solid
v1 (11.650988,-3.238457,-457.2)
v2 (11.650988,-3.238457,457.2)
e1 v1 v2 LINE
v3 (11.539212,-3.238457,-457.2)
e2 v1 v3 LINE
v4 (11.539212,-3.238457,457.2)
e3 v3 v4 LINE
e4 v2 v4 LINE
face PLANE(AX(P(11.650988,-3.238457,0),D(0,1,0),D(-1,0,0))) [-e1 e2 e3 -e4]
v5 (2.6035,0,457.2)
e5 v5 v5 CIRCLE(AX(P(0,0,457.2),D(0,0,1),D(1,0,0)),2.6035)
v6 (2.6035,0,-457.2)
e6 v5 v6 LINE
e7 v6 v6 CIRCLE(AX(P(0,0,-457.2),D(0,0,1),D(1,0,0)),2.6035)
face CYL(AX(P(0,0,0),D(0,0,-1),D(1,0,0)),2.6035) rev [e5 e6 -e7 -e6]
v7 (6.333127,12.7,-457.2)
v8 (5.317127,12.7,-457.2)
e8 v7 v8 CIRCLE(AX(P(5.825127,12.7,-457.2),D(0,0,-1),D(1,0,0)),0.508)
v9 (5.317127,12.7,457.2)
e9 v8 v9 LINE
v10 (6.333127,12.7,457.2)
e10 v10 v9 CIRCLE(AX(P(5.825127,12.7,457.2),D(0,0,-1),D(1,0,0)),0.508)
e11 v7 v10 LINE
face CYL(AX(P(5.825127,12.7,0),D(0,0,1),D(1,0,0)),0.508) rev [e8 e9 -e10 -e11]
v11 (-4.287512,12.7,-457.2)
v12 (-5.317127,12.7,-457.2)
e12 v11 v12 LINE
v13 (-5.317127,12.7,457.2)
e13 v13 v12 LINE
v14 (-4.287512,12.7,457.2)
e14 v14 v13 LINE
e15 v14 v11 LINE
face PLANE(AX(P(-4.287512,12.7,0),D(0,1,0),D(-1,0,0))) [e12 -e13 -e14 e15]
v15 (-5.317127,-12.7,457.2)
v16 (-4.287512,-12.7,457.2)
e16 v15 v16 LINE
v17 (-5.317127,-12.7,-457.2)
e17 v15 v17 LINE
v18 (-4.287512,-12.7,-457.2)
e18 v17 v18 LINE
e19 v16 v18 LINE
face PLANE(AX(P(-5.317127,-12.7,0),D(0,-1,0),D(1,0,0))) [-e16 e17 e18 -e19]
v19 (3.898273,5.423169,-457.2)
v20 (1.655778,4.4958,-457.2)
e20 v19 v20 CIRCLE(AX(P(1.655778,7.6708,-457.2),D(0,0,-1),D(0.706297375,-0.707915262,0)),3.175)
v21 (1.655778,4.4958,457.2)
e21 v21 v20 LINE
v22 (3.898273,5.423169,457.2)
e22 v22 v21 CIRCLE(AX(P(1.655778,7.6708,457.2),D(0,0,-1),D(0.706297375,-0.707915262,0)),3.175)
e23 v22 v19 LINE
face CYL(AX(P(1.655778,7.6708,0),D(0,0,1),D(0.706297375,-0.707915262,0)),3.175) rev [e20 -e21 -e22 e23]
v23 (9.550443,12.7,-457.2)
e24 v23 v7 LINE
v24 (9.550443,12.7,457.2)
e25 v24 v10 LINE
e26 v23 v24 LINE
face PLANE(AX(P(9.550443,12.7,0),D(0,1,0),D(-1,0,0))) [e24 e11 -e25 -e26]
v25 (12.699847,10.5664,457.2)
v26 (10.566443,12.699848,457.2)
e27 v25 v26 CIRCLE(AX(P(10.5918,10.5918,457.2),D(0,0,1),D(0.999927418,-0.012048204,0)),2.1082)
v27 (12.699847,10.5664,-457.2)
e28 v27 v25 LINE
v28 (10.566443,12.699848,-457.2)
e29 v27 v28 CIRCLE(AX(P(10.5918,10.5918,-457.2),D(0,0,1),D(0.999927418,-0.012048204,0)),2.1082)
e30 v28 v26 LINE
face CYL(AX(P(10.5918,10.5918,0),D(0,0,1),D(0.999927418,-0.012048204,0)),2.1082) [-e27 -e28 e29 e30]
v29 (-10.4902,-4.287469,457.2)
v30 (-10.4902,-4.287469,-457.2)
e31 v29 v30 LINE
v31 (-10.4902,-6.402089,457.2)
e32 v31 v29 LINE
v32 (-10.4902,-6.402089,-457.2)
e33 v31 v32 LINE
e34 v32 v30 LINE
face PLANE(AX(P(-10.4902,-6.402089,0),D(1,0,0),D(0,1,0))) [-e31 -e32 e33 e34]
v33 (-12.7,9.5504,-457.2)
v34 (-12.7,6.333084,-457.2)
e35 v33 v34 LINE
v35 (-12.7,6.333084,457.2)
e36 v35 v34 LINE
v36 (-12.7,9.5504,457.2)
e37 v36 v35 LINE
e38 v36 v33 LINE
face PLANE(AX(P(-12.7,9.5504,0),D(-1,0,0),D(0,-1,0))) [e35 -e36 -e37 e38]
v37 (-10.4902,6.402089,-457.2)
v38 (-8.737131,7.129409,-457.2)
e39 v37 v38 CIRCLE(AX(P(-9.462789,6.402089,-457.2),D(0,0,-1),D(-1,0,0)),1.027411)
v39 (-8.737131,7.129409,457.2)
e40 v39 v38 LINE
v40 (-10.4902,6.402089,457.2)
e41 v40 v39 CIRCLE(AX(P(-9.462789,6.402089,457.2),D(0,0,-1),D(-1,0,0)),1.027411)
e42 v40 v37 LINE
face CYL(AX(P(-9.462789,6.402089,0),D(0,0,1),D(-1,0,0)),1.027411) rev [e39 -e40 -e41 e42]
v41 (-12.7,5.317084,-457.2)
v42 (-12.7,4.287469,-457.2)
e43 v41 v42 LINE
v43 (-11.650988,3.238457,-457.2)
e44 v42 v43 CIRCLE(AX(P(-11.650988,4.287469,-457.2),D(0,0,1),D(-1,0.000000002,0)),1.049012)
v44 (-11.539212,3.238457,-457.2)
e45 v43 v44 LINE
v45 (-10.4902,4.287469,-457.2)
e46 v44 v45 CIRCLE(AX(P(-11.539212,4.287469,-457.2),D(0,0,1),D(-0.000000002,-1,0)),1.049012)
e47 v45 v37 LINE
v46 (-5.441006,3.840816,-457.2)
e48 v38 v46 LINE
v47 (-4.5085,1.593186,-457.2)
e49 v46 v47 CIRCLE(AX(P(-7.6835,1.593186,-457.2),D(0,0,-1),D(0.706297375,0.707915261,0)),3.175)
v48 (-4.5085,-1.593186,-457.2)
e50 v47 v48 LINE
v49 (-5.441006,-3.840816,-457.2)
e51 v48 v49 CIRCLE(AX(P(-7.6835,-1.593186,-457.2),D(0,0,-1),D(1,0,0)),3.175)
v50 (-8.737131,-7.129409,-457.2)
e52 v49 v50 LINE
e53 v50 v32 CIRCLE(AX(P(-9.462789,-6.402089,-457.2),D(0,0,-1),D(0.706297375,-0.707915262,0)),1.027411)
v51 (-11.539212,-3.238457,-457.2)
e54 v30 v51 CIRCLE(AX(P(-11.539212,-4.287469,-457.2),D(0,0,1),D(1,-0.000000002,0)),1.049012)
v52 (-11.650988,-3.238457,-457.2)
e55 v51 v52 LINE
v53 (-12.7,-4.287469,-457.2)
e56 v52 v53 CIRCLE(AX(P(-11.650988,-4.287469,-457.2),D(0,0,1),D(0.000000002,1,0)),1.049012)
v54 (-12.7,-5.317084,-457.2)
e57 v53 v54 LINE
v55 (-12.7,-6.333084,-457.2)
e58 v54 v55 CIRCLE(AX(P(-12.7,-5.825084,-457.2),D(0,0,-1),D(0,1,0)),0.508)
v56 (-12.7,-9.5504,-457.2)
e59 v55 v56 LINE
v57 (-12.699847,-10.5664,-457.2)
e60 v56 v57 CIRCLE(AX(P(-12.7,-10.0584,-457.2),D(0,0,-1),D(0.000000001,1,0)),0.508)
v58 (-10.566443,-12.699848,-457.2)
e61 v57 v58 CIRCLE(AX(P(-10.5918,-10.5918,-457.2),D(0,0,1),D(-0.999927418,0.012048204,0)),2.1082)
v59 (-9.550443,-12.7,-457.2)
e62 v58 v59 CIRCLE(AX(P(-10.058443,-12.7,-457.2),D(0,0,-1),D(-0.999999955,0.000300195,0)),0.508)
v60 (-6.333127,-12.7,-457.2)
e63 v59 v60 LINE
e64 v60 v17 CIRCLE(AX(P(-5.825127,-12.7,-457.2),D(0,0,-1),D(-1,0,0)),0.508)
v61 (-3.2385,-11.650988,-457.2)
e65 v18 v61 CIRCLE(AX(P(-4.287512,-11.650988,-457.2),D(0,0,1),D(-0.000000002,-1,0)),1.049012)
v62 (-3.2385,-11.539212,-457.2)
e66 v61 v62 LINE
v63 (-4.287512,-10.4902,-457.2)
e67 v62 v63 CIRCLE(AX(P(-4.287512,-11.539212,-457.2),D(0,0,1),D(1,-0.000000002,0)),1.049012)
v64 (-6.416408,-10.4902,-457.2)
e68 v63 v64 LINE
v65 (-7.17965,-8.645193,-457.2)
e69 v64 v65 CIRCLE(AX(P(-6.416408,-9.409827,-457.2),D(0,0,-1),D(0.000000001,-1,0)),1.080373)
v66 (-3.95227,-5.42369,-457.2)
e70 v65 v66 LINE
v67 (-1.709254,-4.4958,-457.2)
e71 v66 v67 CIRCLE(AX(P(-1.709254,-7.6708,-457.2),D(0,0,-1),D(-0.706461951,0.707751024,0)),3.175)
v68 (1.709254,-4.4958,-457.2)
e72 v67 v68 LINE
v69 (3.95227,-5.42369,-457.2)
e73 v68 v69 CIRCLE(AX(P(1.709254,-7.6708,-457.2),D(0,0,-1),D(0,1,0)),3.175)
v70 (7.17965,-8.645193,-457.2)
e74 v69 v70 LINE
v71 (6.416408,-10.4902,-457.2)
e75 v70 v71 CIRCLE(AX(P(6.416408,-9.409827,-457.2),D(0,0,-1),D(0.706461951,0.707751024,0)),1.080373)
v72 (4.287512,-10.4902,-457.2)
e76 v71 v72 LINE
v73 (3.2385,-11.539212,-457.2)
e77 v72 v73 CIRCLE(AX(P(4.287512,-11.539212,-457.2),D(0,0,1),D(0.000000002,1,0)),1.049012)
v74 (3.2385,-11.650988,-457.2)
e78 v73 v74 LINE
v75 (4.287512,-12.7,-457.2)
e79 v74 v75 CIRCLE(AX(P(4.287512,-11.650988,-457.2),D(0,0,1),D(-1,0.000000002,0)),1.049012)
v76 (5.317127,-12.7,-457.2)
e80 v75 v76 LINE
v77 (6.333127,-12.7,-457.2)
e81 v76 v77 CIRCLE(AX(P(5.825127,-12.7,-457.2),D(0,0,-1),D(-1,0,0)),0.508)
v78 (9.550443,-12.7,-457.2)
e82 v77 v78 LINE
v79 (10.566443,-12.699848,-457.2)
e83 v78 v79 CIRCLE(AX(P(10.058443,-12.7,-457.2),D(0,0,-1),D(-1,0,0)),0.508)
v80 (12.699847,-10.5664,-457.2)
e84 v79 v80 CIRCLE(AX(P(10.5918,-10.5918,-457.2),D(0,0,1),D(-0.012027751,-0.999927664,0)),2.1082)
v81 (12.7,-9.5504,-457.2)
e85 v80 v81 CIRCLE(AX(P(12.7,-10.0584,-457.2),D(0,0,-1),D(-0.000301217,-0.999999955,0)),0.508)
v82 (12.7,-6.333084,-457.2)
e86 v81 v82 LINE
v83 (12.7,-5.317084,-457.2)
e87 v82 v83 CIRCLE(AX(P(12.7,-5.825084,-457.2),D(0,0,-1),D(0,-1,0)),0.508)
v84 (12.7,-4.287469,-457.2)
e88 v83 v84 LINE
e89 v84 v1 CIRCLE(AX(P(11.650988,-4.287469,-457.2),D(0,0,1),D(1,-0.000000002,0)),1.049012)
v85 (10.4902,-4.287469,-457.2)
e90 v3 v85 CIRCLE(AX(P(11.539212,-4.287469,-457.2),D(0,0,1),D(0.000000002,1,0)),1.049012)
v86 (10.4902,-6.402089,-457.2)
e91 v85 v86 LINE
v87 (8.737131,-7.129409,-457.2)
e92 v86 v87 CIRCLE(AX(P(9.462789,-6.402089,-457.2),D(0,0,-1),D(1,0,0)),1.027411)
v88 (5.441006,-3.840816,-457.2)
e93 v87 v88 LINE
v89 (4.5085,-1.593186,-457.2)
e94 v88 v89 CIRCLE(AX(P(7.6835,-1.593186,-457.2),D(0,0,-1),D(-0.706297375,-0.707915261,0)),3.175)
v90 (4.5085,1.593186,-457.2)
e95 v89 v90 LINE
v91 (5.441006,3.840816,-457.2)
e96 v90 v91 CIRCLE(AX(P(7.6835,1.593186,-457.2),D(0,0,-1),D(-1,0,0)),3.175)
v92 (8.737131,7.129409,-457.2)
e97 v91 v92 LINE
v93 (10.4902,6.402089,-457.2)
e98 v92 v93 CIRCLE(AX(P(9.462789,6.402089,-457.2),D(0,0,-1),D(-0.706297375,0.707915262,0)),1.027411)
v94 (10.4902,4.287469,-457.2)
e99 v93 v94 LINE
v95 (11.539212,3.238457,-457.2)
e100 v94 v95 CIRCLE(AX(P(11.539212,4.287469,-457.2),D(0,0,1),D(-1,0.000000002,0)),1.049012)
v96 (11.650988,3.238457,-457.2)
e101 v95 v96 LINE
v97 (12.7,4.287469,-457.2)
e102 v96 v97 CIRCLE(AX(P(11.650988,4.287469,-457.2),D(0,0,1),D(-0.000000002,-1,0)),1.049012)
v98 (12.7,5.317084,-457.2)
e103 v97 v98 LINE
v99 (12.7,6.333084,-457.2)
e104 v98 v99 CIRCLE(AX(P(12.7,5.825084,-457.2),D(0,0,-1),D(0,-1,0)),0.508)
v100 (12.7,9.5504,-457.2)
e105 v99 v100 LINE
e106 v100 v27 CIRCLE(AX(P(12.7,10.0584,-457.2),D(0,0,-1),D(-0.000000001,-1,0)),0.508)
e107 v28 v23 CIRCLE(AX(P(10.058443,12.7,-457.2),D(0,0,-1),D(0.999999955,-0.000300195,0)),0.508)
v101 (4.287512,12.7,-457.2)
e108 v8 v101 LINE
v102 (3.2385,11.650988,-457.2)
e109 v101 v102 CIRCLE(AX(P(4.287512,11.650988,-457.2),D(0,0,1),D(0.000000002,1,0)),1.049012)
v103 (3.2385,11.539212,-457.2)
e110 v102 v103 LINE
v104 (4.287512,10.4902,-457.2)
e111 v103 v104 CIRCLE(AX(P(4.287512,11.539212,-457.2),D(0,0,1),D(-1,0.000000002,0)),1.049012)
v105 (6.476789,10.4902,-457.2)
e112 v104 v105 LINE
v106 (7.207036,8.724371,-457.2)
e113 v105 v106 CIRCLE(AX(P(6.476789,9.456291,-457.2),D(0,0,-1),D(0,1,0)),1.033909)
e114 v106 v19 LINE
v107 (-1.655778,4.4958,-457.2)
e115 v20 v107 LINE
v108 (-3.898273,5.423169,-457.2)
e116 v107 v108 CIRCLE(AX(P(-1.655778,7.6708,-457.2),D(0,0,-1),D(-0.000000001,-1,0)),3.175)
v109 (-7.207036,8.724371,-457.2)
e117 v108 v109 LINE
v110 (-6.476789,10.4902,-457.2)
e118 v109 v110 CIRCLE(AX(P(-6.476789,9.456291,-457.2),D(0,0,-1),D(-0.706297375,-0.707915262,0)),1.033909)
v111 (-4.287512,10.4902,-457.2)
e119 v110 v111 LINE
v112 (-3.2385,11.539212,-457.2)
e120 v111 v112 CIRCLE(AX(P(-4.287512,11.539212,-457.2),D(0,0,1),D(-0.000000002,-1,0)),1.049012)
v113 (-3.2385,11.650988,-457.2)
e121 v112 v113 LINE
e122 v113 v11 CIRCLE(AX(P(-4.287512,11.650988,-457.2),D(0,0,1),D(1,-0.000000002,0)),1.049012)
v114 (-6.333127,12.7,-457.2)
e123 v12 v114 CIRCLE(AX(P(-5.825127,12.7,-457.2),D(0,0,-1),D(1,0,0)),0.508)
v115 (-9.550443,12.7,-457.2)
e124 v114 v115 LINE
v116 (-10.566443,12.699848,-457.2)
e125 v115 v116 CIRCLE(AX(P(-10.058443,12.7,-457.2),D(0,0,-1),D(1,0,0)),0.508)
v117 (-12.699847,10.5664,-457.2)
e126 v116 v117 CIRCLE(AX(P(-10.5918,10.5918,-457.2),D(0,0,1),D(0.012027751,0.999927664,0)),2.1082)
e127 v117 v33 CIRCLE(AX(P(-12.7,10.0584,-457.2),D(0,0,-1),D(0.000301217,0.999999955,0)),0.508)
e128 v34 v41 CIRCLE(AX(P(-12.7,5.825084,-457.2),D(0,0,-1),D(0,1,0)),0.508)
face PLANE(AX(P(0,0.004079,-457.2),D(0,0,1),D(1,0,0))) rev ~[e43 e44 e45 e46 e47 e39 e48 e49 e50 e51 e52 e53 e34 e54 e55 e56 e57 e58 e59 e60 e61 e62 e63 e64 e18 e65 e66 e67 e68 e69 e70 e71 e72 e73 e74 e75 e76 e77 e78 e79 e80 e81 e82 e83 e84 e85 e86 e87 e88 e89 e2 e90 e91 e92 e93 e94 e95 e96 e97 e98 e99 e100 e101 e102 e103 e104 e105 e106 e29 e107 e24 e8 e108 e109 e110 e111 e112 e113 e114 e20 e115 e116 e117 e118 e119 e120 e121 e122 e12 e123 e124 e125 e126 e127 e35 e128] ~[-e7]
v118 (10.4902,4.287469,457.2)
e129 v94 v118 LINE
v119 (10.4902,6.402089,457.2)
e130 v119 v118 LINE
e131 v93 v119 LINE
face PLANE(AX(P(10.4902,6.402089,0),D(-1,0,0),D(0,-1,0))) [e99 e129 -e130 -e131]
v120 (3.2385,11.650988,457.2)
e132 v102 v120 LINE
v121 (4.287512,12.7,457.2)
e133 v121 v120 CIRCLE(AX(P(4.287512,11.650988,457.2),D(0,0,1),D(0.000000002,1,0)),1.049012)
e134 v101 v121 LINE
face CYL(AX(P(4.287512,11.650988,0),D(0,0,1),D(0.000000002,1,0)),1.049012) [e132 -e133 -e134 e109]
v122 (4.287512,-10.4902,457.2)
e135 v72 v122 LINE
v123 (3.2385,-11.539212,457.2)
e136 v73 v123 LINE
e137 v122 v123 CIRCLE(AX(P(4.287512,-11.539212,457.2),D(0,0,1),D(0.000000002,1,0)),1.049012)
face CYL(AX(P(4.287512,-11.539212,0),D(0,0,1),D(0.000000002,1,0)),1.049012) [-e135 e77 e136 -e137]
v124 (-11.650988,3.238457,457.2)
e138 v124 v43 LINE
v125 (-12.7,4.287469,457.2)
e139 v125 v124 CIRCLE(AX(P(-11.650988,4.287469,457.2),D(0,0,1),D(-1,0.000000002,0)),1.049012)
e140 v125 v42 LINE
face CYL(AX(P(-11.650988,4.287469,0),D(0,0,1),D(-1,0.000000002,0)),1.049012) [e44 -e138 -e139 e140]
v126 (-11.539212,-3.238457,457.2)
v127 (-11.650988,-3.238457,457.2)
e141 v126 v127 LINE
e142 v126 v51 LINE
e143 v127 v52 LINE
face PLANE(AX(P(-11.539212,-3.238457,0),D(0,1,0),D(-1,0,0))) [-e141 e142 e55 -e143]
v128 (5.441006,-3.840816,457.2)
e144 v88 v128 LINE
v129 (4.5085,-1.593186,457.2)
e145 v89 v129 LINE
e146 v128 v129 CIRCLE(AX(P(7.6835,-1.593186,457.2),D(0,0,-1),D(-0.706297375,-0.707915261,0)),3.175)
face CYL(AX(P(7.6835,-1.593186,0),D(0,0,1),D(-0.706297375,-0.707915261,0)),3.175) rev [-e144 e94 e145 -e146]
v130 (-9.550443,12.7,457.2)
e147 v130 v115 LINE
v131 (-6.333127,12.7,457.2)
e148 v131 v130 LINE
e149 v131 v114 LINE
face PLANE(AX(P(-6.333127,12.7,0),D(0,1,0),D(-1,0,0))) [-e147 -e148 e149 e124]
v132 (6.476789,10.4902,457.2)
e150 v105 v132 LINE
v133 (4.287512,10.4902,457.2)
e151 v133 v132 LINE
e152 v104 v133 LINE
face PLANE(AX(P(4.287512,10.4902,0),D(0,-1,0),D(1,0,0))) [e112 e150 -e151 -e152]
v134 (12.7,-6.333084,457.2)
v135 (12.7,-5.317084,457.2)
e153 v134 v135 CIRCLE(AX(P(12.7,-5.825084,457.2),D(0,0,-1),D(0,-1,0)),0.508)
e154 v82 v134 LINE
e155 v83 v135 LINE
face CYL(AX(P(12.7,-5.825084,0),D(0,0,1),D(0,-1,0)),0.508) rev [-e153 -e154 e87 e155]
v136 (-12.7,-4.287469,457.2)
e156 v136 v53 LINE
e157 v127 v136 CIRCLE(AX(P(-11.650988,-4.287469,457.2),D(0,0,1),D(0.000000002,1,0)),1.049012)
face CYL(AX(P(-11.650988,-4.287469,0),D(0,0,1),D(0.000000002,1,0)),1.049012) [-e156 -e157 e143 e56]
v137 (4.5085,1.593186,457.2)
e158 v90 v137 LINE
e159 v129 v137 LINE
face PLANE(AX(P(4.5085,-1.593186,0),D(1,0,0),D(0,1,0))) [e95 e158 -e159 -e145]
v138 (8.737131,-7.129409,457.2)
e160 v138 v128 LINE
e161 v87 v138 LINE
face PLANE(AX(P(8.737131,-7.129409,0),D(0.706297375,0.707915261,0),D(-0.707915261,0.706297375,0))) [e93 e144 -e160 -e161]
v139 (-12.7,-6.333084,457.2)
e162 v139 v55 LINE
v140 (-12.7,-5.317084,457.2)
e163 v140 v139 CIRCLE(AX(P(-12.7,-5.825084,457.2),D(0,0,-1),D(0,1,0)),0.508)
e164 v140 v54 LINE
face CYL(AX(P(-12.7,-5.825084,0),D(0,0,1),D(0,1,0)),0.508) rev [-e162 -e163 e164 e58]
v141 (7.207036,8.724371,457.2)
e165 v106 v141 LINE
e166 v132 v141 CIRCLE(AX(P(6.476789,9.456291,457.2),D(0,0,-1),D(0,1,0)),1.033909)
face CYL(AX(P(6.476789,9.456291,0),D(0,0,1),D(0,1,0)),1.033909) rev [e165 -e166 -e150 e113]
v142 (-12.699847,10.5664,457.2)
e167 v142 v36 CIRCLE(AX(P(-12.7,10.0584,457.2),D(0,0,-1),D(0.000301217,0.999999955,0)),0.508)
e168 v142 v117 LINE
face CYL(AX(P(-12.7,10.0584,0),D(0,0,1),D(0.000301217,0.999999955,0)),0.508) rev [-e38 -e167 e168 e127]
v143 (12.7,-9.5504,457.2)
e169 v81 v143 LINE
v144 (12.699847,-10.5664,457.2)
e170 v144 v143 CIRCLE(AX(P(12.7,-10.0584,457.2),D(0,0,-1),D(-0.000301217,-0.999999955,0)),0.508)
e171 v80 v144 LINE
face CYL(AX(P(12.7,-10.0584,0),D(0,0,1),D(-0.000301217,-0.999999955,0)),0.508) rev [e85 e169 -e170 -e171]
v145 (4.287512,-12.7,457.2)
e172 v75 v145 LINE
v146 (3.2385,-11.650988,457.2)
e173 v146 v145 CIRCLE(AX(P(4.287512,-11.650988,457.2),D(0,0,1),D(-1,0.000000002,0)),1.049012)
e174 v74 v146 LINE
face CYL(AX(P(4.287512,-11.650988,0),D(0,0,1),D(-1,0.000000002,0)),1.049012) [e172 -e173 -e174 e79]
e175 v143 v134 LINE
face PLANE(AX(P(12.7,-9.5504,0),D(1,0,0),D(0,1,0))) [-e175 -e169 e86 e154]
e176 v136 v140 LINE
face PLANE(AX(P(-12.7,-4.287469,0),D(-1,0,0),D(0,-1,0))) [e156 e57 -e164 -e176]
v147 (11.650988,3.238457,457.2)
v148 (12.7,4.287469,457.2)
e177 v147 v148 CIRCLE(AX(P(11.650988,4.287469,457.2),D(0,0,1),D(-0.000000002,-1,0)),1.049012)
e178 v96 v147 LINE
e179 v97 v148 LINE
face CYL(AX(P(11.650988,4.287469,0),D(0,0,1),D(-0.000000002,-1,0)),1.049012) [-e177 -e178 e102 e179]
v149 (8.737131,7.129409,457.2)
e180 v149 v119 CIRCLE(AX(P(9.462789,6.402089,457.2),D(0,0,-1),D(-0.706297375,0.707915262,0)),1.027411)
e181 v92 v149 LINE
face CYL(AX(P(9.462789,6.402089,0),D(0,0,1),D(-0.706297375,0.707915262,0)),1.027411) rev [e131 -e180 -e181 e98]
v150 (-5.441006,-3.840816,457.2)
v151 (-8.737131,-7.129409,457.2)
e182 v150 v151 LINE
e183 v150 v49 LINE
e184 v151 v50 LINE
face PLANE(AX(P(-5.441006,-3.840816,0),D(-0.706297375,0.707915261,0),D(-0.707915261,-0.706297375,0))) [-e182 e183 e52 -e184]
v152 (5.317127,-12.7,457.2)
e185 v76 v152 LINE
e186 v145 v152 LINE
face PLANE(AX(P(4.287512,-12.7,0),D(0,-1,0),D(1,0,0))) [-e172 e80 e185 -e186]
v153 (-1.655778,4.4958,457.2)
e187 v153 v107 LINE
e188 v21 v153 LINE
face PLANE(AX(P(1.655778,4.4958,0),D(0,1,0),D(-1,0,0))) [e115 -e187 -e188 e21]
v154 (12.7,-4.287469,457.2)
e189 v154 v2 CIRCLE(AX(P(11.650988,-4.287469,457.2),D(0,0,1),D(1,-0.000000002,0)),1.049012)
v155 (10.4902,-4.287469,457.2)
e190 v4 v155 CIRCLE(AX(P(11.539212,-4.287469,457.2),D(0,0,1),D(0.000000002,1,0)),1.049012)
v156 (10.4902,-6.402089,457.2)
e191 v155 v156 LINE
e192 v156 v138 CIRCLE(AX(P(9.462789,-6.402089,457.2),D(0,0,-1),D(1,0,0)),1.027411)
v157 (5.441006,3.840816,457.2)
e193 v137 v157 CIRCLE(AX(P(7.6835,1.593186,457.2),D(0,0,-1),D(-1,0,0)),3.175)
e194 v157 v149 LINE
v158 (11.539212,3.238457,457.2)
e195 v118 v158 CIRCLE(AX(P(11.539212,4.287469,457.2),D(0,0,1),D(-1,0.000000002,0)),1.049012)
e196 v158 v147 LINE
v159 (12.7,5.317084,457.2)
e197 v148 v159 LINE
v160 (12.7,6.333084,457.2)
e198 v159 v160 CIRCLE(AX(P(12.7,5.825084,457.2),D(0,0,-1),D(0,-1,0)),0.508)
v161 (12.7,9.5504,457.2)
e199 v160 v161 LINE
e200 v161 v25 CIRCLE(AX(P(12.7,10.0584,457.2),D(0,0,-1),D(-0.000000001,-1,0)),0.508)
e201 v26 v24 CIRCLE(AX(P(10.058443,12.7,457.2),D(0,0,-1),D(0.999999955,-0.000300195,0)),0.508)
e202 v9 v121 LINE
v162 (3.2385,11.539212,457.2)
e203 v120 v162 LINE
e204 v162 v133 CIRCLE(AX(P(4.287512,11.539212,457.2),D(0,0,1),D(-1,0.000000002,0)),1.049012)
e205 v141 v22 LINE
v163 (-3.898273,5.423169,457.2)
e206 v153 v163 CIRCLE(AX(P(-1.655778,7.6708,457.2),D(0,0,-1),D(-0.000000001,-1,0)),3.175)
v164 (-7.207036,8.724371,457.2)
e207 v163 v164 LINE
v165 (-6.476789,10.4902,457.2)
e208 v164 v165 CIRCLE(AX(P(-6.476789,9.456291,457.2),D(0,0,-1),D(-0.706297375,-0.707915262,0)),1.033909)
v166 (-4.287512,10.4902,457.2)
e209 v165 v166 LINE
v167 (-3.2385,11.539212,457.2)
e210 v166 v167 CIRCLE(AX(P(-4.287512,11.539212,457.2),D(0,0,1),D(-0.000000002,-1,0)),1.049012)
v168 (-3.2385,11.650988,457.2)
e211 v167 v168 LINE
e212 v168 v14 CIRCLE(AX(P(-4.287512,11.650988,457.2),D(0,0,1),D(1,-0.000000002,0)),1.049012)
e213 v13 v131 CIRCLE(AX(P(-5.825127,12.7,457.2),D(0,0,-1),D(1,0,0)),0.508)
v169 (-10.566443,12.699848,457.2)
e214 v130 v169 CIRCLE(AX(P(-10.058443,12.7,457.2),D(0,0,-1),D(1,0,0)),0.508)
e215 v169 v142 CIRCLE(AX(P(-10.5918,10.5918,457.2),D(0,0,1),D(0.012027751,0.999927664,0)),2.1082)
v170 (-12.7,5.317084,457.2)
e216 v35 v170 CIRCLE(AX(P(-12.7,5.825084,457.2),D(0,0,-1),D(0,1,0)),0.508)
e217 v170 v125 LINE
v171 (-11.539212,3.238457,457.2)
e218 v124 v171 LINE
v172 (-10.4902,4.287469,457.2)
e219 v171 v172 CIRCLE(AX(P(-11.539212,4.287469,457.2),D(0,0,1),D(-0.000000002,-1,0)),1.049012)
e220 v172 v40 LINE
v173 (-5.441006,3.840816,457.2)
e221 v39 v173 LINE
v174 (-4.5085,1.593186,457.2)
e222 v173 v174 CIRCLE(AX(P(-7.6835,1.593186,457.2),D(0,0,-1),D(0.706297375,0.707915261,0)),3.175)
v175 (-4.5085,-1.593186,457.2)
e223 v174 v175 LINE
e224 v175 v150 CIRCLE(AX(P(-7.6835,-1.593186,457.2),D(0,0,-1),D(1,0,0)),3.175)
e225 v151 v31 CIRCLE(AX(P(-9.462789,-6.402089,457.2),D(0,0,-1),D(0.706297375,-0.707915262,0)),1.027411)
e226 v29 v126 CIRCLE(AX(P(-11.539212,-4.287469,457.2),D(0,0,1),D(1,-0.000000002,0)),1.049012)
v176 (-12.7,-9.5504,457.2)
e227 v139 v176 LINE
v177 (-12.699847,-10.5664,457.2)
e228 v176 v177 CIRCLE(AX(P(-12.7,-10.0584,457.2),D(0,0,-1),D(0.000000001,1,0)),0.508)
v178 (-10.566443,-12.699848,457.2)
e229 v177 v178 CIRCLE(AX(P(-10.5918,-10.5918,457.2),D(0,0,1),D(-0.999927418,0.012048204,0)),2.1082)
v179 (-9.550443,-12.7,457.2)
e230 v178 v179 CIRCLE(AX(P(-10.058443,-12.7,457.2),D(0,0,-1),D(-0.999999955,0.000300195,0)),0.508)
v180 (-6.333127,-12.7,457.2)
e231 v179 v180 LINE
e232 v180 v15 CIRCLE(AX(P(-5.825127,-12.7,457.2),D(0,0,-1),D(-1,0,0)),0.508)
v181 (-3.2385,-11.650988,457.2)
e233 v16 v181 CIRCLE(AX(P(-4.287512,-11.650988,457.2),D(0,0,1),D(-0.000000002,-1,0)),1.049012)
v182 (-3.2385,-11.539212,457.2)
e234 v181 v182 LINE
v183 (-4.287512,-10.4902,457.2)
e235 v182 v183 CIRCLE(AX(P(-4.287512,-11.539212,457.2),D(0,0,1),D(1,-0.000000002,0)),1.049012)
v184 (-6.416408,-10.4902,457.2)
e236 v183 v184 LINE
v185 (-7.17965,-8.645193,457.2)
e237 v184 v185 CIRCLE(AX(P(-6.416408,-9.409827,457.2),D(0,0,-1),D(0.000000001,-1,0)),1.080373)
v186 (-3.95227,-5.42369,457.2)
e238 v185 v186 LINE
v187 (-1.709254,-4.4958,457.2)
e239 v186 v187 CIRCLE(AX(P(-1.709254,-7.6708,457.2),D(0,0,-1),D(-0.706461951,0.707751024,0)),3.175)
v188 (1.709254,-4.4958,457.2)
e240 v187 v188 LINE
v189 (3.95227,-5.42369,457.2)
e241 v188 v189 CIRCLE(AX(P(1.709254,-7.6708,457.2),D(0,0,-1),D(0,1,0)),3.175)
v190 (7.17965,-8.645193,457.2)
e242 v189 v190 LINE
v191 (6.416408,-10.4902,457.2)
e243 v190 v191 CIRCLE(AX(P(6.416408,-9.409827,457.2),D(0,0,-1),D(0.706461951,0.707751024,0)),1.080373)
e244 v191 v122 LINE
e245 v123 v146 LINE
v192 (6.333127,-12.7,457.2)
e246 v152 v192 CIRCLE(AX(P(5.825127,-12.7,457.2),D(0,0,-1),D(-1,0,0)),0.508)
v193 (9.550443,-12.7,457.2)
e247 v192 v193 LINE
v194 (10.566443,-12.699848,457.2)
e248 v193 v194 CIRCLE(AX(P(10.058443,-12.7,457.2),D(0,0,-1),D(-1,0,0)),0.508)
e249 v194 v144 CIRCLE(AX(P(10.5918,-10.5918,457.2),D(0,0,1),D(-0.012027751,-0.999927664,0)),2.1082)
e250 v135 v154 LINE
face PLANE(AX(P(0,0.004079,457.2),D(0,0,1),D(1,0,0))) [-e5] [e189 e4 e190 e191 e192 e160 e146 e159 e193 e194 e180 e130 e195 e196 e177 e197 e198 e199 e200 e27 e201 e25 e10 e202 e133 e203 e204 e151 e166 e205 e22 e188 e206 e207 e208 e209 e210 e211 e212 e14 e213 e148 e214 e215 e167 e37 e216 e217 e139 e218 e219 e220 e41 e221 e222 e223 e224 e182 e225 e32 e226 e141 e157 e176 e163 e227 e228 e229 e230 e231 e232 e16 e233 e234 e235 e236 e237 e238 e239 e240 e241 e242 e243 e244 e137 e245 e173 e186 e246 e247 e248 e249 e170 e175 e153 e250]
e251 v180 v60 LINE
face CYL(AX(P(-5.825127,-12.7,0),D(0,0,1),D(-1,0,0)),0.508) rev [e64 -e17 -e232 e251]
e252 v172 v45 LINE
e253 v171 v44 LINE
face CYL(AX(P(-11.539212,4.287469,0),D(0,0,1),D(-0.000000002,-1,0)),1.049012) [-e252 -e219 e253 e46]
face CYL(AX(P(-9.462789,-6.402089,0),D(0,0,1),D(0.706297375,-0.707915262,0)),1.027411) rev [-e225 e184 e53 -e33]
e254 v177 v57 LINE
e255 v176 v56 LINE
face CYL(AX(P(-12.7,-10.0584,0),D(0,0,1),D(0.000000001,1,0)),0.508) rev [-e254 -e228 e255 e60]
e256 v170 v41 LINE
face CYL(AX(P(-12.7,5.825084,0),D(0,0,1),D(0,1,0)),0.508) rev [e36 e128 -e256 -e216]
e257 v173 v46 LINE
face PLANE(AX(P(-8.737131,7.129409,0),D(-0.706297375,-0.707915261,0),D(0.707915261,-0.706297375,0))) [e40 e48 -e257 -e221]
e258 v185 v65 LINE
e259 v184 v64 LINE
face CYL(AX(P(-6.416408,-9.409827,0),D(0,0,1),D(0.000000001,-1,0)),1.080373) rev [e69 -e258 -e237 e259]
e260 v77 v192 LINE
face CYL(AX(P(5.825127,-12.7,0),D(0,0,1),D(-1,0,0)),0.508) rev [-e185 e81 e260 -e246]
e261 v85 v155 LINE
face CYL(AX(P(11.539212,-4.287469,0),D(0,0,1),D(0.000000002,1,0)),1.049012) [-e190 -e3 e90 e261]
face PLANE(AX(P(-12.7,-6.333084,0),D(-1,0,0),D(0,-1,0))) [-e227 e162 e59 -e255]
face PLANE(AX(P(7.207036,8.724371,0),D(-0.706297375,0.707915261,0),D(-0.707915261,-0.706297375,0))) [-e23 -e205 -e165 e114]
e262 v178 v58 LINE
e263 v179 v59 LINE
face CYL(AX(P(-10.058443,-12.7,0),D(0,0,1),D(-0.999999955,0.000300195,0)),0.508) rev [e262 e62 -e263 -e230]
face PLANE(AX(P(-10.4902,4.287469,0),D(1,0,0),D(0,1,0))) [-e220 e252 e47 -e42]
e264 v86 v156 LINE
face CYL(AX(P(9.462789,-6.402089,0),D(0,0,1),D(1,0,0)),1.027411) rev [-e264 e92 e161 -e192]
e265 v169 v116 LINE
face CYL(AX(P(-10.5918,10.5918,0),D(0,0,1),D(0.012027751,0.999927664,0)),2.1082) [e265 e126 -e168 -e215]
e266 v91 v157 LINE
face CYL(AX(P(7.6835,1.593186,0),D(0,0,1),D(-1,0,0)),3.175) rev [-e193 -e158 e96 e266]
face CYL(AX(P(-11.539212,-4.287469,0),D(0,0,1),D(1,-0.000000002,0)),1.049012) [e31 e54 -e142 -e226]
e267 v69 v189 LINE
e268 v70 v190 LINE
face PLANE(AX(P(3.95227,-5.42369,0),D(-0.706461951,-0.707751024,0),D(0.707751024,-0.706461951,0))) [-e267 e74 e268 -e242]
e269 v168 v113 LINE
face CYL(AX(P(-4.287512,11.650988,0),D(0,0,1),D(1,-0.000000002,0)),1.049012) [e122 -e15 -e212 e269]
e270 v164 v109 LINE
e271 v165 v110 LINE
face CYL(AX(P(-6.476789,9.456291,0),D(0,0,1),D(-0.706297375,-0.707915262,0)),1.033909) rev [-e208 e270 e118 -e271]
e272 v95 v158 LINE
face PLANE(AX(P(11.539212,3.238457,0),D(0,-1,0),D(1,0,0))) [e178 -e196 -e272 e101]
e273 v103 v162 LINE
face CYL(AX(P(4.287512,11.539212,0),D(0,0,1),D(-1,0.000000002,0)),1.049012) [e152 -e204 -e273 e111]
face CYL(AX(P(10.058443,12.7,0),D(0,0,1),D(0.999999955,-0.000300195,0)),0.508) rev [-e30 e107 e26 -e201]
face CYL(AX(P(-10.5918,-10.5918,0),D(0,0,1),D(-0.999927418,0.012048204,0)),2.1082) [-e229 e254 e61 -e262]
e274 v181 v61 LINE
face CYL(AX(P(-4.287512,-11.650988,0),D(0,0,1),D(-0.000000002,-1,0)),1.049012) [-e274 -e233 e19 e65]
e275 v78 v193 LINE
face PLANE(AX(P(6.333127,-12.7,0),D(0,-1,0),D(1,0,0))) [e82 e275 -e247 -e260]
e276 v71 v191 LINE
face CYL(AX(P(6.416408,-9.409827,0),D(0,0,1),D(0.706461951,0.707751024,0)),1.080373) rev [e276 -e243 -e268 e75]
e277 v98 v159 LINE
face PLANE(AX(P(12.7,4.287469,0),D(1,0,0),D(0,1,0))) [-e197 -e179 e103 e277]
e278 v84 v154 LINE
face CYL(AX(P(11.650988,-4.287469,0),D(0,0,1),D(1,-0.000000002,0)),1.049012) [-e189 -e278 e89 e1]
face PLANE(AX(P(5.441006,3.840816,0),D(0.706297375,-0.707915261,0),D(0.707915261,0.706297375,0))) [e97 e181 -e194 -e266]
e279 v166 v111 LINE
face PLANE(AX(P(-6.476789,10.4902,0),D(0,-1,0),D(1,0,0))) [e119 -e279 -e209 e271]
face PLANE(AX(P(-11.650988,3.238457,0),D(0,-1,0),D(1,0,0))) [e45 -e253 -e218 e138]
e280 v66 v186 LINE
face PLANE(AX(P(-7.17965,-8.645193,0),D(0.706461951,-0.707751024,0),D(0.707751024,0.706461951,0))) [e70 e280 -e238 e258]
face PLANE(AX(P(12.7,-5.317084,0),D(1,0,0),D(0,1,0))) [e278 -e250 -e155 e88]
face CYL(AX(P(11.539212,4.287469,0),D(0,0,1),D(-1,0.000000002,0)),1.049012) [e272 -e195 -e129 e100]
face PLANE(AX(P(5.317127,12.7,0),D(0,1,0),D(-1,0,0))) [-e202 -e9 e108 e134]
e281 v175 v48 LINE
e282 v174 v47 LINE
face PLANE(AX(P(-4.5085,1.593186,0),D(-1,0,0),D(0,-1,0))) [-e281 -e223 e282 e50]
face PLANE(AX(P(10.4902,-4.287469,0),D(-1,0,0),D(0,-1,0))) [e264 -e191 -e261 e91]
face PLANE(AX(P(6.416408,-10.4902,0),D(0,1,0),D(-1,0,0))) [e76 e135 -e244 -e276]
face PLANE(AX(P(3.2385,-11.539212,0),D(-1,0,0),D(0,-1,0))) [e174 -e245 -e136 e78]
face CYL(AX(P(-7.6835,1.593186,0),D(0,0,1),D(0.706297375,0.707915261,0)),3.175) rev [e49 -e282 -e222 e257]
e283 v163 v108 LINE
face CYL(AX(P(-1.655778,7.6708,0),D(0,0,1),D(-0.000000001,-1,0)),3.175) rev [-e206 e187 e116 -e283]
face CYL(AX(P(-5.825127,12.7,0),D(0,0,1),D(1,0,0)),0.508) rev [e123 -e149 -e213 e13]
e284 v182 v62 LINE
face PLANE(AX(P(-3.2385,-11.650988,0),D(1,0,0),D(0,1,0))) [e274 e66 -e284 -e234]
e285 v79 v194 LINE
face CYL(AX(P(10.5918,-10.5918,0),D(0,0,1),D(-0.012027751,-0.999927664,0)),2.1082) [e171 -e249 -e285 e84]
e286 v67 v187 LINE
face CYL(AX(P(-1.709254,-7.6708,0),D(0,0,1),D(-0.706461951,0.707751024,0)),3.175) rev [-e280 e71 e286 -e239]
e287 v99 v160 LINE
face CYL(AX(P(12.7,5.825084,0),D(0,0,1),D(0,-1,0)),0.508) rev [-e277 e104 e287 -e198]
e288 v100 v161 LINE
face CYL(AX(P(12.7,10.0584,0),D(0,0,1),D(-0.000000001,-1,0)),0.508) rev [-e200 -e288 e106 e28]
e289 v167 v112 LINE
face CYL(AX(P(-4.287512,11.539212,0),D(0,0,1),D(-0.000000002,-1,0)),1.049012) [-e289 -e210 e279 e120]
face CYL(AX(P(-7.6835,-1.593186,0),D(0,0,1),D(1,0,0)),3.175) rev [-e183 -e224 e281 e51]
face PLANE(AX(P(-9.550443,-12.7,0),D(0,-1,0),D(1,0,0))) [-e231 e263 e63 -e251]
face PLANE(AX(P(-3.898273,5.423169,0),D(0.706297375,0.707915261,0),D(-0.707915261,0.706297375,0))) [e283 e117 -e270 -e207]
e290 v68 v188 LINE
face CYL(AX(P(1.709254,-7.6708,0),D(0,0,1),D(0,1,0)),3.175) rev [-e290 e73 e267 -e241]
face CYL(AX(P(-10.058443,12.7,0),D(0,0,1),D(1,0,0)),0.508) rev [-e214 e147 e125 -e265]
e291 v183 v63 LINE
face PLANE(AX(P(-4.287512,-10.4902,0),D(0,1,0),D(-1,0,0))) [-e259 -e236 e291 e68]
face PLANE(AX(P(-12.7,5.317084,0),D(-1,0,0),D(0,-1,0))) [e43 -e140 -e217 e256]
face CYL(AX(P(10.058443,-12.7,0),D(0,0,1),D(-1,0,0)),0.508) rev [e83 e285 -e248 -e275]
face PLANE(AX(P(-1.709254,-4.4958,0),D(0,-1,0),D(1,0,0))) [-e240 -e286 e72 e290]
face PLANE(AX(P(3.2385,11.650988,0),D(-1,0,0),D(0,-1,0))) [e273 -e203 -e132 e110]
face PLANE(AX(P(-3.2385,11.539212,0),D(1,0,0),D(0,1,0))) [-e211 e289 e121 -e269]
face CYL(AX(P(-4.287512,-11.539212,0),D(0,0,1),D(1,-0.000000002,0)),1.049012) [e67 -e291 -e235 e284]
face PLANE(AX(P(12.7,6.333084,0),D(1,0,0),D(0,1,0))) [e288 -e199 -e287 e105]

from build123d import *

# Parameters (mm, degrees)
SKETCH1_R           = 2.6035
BOSS_EXTRUDE1_DEPTH = 457.2


with BuildPart() as part:
    # Sketch1 → Boss-Extrude1 (new body, symmetric)
    with BuildSketch(Plane.XY):
        with BuildLine():
            Line((-7.179650497, -8.645192506), (-3.952270251, -5.423690499))
            ThreePointArc((-3.952270251, -5.423690499), (-2.922936451, -4.736929036), (-1.709253557, -4.4958))
            Line((-1.709253557, -4.4958), (1.709253557, -4.4958))
            ThreePointArc((1.709253557, -4.4958), (2.922936451, -4.736929036), (3.952270251, -5.423690499))
            Line((3.952270251, -5.423690499), (7.179650497, -8.645192506))
            ThreePointArc((7.179650497, -8.645192506), (7.41473083, -9.822813117), (6.416408329, -10.4902))
            Line((6.416408329, -10.4902), (4.287512407, -10.4902))
            ThreePointArc((4.287512407, -10.4902), (3.54574862, -10.79744862), (3.2385, -11.539212407))
            Line((3.2385, -11.539212407), (3.2385, -11.650987593))
            ThreePointArc((3.2385, -11.650987593), (3.54574862, -12.39275138), (4.287512407, -12.7))
            Line((4.287512407, -12.7), (5.317126718, -12.7))
            ThreePointArc((5.317126718, -12.7), (5.825126718, -12.192), (6.333126718, -12.7))
            Line((6.333126718, -12.7), (9.550443118, -12.7))
            ThreePointArc((9.550443118, -12.7), (10.058366869, -12.192000006), (10.566443095, -12.699847501))
            ThreePointArc((10.566443095, -12.699847501), (12.082537762, -12.08250727), (12.699846982, -10.566399977))
            ThreePointArc((12.699846982, -10.566399977), (12.192000006, -10.058323491), (12.7, -9.5504))
            Line((12.7, -9.5504), (12.7, -6.3330836))
            ThreePointArc((12.7, -6.3330836), (12.192, -5.8250836), (12.7, -5.3170836))
            Line((12.7, -5.3170836), (12.7, -4.287469289))
            ThreePointArc((12.7, -4.287469289), (12.39275138, -3.545705502), (11.650987593, -3.238456882))
            Line((11.650987593, -3.238456882), (11.539212407, -3.238456882))
            ThreePointArc((11.539212407, -3.238456882), (10.79744862, -3.545705502), (10.4902, -4.287469289))
            Line((10.4902, -4.287469289), (10.4902, -6.402089023))
            ThreePointArc((10.4902, -6.402089023), (9.856505071, -7.351067942), (8.737131347, -7.129408934))
            Line((8.737131347, -7.129408934), (5.441005833, -3.840816462))
            ThreePointArc((5.441005833, -3.840816462), (4.750877967, -2.809883091), (4.5085, -1.593185507))
            Line((4.5085, -1.593185507), (4.5085, 1.593185507))
            ThreePointArc((4.5085, 1.593185507), (4.750877967, 2.809883091), (5.441005833, 3.840816462))
            Line((5.441005833, 3.840816462), (8.737131347, 7.129408934))
            ThreePointArc((8.737131347, 7.129408934), (9.856505071, 7.351067942), (10.4902, 6.402089023))
            Line((10.4902, 6.402089023), (10.4902, 4.287469289))
            ThreePointArc((10.4902, 4.287469289), (10.79744862, 3.545705502), (11.539212407, 3.238456882))
            Line((11.539212407, 3.238456882), (11.650987593, 3.238456882))
            ThreePointArc((11.650987593, 3.238456882), (12.39275138, 3.545705502), (12.7, 4.287469289))
            Line((12.7, 4.287469289), (12.7, 5.3170836))
            ThreePointArc((12.7, 5.3170836), (12.192, 5.8250836), (12.7, 6.3330836))
            Line((12.7, 6.3330836), (12.7, 9.5504))
            ThreePointArc((12.7, 9.5504), (12.192000006, 10.058323491), (12.699846982, 10.566399977))
            ThreePointArc((12.699846982, 10.566399977), (12.082537762, 12.08250727), (10.566443095, 12.699847501))
            ThreePointArc((10.566443095, 12.699847501), (10.058366869, 12.192000006), (9.550443118, 12.7))
            Line((9.550443118, 12.7), (6.333126718, 12.7))
            ThreePointArc((6.333126718, 12.7), (5.825126718, 12.192), (5.317126718, 12.7))
            Line((5.317126718, 12.7), (4.287512407, 12.7))
            ThreePointArc((4.287512407, 12.7), (3.54574862, 12.39275138), (3.2385, 11.650987593))
            Line((3.2385, 11.650987593), (3.2385, 11.539212407))
            ThreePointArc((3.2385, 11.539212407), (3.54574862, 10.79744862), (4.287512407, 10.4902))
            Line((4.287512407, 10.4902), (6.476788598, 10.4902))
            ThreePointArc((6.476788598, 10.4902), (7.432222385, 9.85140422), (7.207036008, 8.724370562))
            Line((7.207036008, 8.724370562), (3.898272566, 5.423169045))
            ThreePointArc((3.898272566, 5.423169045), (2.869120213, 4.736787962), (1.655778399, 4.4958))
            Line((1.655778399, 4.4958), (-1.655778399, 4.4958))
            ThreePointArc((-1.655778399, 4.4958), (-2.869120213, 4.736787962), (-3.898272566, 5.423169045))
            Line((-3.898272566, 5.423169045), (-7.207036008, 8.724370562))
            ThreePointArc((-7.207036008, 8.724370562), (-7.432222385, 9.85140422), (-6.476788598, 10.4902))
            Line((-6.476788598, 10.4902), (-4.287512407, 10.4902))
            ThreePointArc((-4.287512407, 10.4902), (-3.54574862, 10.79744862), (-3.2385, 11.539212407))
            Line((-3.2385, 11.539212407), (-3.2385, 11.650987593))
            ThreePointArc((-3.2385, 11.650987593), (-3.54574862, 12.39275138), (-4.287512407, 12.7))
            Line((-4.287512407, 12.7), (-5.317126718, 12.7))
            ThreePointArc((-5.317126718, 12.7), (-5.825126718, 12.192), (-6.333126718, 12.7))
            Line((-6.333126718, 12.7), (-9.550443118, 12.7))
            ThreePointArc((-9.550443118, 12.7), (-10.058366869, 12.192000006), (-10.566443095, 12.699847501))
            ThreePointArc((-10.566443095, 12.699847501), (-12.082537762, 12.08250727), (-12.699846982, 10.566399977))
            ThreePointArc((-12.699846982, 10.566399977), (-12.192000006, 10.058323491), (-12.7, 9.5504))
            Line((-12.7, 9.5504), (-12.7, 6.3330836))
            ThreePointArc((-12.7, 6.3330836), (-12.192, 5.8250836), (-12.7, 5.3170836))
            Line((-12.7, 5.3170836), (-12.7, 4.287469289))
            ThreePointArc((-12.7, 4.287469289), (-12.39275138, 3.545705502), (-11.650987593, 3.238456882))
            Line((-11.650987593, 3.238456882), (-11.539212407, 3.238456882))
            ThreePointArc((-11.539212407, 3.238456882), (-10.79744862, 3.545705502), (-10.4902, 4.287469289))
            Line((-10.4902, 4.287469289), (-10.4902, 6.402089023))
            ThreePointArc((-10.4902, 6.402089023), (-9.856505071, 7.351067942), (-8.737131347, 7.129408934))
            Line((-8.737131347, 7.129408934), (-5.441005833, 3.840816462))
            ThreePointArc((-5.441005833, 3.840816462), (-4.750877967, 2.809883091), (-4.5085, 1.593185507))
            Line((-4.5085, 1.593185507), (-4.5085, -1.593185507))
            ThreePointArc((-4.5085, -1.593185507), (-4.750877967, -2.809883091), (-5.441005833, -3.840816462))
            Line((-5.441005833, -3.840816462), (-8.737131347, -7.129408934))
            ThreePointArc((-8.737131347, -7.129408934), (-9.856505071, -7.351067942), (-10.4902, -6.402089023))
            Line((-10.4902, -6.402089023), (-10.4902, -4.287469289))
            ThreePointArc((-10.4902, -4.287469289), (-10.79744862, -3.545705502), (-11.539212407, -3.238456882))
            Line((-11.539212407, -3.238456882), (-11.650987593, -3.238456882))
            ThreePointArc((-11.650987593, -3.238456882), (-12.39275138, -3.545705502), (-12.7, -4.287469289))
            Line((-12.7, -4.287469289), (-12.7, -5.3170836))
            ThreePointArc((-12.7, -5.3170836), (-12.192, -5.8250836), (-12.7, -6.3330836))
            Line((-12.7, -6.3330836), (-12.7, -9.5504))
            ThreePointArc((-12.7, -9.5504), (-12.192000006, -10.058323491), (-12.699846982, -10.566399977))
            ThreePointArc((-12.699846982, -10.566399977), (-12.082537762, -12.08250727), (-10.566443095, -12.699847501))
            ThreePointArc((-10.566443095, -12.699847501), (-10.058366869, -12.192000006), (-9.550443118, -12.7))
            Line((-9.550443118, -12.7), (-6.333126718, -12.7))
            ThreePointArc((-6.333126718, -12.7), (-5.825126718, -12.192), (-5.317126718, -12.7))
            Line((-5.317126718, -12.7), (-4.287512407, -12.7))
            ThreePointArc((-4.287512407, -12.7), (-3.54574862, -12.39275138), (-3.2385, -11.650987593))
            Line((-3.2385, -11.650987593), (-3.2385, -11.539212407))
            ThreePointArc((-3.2385, -11.539212407), (-3.54574862, -10.79744862), (-4.287512407, -10.4902))
            Line((-4.287512407, -10.4902), (-6.416408329, -10.4902))
            ThreePointArc((-6.416408329, -10.4902), (-7.41473083, -9.822813117), (-7.179650497, -8.645192506))
        make_face()
        Circle(SKETCH1_R, mode=Mode.SUBTRACT)
    extrude(amount=BOSS_EXTRUDE1_DEPTH, both=True)


solid = part.part
